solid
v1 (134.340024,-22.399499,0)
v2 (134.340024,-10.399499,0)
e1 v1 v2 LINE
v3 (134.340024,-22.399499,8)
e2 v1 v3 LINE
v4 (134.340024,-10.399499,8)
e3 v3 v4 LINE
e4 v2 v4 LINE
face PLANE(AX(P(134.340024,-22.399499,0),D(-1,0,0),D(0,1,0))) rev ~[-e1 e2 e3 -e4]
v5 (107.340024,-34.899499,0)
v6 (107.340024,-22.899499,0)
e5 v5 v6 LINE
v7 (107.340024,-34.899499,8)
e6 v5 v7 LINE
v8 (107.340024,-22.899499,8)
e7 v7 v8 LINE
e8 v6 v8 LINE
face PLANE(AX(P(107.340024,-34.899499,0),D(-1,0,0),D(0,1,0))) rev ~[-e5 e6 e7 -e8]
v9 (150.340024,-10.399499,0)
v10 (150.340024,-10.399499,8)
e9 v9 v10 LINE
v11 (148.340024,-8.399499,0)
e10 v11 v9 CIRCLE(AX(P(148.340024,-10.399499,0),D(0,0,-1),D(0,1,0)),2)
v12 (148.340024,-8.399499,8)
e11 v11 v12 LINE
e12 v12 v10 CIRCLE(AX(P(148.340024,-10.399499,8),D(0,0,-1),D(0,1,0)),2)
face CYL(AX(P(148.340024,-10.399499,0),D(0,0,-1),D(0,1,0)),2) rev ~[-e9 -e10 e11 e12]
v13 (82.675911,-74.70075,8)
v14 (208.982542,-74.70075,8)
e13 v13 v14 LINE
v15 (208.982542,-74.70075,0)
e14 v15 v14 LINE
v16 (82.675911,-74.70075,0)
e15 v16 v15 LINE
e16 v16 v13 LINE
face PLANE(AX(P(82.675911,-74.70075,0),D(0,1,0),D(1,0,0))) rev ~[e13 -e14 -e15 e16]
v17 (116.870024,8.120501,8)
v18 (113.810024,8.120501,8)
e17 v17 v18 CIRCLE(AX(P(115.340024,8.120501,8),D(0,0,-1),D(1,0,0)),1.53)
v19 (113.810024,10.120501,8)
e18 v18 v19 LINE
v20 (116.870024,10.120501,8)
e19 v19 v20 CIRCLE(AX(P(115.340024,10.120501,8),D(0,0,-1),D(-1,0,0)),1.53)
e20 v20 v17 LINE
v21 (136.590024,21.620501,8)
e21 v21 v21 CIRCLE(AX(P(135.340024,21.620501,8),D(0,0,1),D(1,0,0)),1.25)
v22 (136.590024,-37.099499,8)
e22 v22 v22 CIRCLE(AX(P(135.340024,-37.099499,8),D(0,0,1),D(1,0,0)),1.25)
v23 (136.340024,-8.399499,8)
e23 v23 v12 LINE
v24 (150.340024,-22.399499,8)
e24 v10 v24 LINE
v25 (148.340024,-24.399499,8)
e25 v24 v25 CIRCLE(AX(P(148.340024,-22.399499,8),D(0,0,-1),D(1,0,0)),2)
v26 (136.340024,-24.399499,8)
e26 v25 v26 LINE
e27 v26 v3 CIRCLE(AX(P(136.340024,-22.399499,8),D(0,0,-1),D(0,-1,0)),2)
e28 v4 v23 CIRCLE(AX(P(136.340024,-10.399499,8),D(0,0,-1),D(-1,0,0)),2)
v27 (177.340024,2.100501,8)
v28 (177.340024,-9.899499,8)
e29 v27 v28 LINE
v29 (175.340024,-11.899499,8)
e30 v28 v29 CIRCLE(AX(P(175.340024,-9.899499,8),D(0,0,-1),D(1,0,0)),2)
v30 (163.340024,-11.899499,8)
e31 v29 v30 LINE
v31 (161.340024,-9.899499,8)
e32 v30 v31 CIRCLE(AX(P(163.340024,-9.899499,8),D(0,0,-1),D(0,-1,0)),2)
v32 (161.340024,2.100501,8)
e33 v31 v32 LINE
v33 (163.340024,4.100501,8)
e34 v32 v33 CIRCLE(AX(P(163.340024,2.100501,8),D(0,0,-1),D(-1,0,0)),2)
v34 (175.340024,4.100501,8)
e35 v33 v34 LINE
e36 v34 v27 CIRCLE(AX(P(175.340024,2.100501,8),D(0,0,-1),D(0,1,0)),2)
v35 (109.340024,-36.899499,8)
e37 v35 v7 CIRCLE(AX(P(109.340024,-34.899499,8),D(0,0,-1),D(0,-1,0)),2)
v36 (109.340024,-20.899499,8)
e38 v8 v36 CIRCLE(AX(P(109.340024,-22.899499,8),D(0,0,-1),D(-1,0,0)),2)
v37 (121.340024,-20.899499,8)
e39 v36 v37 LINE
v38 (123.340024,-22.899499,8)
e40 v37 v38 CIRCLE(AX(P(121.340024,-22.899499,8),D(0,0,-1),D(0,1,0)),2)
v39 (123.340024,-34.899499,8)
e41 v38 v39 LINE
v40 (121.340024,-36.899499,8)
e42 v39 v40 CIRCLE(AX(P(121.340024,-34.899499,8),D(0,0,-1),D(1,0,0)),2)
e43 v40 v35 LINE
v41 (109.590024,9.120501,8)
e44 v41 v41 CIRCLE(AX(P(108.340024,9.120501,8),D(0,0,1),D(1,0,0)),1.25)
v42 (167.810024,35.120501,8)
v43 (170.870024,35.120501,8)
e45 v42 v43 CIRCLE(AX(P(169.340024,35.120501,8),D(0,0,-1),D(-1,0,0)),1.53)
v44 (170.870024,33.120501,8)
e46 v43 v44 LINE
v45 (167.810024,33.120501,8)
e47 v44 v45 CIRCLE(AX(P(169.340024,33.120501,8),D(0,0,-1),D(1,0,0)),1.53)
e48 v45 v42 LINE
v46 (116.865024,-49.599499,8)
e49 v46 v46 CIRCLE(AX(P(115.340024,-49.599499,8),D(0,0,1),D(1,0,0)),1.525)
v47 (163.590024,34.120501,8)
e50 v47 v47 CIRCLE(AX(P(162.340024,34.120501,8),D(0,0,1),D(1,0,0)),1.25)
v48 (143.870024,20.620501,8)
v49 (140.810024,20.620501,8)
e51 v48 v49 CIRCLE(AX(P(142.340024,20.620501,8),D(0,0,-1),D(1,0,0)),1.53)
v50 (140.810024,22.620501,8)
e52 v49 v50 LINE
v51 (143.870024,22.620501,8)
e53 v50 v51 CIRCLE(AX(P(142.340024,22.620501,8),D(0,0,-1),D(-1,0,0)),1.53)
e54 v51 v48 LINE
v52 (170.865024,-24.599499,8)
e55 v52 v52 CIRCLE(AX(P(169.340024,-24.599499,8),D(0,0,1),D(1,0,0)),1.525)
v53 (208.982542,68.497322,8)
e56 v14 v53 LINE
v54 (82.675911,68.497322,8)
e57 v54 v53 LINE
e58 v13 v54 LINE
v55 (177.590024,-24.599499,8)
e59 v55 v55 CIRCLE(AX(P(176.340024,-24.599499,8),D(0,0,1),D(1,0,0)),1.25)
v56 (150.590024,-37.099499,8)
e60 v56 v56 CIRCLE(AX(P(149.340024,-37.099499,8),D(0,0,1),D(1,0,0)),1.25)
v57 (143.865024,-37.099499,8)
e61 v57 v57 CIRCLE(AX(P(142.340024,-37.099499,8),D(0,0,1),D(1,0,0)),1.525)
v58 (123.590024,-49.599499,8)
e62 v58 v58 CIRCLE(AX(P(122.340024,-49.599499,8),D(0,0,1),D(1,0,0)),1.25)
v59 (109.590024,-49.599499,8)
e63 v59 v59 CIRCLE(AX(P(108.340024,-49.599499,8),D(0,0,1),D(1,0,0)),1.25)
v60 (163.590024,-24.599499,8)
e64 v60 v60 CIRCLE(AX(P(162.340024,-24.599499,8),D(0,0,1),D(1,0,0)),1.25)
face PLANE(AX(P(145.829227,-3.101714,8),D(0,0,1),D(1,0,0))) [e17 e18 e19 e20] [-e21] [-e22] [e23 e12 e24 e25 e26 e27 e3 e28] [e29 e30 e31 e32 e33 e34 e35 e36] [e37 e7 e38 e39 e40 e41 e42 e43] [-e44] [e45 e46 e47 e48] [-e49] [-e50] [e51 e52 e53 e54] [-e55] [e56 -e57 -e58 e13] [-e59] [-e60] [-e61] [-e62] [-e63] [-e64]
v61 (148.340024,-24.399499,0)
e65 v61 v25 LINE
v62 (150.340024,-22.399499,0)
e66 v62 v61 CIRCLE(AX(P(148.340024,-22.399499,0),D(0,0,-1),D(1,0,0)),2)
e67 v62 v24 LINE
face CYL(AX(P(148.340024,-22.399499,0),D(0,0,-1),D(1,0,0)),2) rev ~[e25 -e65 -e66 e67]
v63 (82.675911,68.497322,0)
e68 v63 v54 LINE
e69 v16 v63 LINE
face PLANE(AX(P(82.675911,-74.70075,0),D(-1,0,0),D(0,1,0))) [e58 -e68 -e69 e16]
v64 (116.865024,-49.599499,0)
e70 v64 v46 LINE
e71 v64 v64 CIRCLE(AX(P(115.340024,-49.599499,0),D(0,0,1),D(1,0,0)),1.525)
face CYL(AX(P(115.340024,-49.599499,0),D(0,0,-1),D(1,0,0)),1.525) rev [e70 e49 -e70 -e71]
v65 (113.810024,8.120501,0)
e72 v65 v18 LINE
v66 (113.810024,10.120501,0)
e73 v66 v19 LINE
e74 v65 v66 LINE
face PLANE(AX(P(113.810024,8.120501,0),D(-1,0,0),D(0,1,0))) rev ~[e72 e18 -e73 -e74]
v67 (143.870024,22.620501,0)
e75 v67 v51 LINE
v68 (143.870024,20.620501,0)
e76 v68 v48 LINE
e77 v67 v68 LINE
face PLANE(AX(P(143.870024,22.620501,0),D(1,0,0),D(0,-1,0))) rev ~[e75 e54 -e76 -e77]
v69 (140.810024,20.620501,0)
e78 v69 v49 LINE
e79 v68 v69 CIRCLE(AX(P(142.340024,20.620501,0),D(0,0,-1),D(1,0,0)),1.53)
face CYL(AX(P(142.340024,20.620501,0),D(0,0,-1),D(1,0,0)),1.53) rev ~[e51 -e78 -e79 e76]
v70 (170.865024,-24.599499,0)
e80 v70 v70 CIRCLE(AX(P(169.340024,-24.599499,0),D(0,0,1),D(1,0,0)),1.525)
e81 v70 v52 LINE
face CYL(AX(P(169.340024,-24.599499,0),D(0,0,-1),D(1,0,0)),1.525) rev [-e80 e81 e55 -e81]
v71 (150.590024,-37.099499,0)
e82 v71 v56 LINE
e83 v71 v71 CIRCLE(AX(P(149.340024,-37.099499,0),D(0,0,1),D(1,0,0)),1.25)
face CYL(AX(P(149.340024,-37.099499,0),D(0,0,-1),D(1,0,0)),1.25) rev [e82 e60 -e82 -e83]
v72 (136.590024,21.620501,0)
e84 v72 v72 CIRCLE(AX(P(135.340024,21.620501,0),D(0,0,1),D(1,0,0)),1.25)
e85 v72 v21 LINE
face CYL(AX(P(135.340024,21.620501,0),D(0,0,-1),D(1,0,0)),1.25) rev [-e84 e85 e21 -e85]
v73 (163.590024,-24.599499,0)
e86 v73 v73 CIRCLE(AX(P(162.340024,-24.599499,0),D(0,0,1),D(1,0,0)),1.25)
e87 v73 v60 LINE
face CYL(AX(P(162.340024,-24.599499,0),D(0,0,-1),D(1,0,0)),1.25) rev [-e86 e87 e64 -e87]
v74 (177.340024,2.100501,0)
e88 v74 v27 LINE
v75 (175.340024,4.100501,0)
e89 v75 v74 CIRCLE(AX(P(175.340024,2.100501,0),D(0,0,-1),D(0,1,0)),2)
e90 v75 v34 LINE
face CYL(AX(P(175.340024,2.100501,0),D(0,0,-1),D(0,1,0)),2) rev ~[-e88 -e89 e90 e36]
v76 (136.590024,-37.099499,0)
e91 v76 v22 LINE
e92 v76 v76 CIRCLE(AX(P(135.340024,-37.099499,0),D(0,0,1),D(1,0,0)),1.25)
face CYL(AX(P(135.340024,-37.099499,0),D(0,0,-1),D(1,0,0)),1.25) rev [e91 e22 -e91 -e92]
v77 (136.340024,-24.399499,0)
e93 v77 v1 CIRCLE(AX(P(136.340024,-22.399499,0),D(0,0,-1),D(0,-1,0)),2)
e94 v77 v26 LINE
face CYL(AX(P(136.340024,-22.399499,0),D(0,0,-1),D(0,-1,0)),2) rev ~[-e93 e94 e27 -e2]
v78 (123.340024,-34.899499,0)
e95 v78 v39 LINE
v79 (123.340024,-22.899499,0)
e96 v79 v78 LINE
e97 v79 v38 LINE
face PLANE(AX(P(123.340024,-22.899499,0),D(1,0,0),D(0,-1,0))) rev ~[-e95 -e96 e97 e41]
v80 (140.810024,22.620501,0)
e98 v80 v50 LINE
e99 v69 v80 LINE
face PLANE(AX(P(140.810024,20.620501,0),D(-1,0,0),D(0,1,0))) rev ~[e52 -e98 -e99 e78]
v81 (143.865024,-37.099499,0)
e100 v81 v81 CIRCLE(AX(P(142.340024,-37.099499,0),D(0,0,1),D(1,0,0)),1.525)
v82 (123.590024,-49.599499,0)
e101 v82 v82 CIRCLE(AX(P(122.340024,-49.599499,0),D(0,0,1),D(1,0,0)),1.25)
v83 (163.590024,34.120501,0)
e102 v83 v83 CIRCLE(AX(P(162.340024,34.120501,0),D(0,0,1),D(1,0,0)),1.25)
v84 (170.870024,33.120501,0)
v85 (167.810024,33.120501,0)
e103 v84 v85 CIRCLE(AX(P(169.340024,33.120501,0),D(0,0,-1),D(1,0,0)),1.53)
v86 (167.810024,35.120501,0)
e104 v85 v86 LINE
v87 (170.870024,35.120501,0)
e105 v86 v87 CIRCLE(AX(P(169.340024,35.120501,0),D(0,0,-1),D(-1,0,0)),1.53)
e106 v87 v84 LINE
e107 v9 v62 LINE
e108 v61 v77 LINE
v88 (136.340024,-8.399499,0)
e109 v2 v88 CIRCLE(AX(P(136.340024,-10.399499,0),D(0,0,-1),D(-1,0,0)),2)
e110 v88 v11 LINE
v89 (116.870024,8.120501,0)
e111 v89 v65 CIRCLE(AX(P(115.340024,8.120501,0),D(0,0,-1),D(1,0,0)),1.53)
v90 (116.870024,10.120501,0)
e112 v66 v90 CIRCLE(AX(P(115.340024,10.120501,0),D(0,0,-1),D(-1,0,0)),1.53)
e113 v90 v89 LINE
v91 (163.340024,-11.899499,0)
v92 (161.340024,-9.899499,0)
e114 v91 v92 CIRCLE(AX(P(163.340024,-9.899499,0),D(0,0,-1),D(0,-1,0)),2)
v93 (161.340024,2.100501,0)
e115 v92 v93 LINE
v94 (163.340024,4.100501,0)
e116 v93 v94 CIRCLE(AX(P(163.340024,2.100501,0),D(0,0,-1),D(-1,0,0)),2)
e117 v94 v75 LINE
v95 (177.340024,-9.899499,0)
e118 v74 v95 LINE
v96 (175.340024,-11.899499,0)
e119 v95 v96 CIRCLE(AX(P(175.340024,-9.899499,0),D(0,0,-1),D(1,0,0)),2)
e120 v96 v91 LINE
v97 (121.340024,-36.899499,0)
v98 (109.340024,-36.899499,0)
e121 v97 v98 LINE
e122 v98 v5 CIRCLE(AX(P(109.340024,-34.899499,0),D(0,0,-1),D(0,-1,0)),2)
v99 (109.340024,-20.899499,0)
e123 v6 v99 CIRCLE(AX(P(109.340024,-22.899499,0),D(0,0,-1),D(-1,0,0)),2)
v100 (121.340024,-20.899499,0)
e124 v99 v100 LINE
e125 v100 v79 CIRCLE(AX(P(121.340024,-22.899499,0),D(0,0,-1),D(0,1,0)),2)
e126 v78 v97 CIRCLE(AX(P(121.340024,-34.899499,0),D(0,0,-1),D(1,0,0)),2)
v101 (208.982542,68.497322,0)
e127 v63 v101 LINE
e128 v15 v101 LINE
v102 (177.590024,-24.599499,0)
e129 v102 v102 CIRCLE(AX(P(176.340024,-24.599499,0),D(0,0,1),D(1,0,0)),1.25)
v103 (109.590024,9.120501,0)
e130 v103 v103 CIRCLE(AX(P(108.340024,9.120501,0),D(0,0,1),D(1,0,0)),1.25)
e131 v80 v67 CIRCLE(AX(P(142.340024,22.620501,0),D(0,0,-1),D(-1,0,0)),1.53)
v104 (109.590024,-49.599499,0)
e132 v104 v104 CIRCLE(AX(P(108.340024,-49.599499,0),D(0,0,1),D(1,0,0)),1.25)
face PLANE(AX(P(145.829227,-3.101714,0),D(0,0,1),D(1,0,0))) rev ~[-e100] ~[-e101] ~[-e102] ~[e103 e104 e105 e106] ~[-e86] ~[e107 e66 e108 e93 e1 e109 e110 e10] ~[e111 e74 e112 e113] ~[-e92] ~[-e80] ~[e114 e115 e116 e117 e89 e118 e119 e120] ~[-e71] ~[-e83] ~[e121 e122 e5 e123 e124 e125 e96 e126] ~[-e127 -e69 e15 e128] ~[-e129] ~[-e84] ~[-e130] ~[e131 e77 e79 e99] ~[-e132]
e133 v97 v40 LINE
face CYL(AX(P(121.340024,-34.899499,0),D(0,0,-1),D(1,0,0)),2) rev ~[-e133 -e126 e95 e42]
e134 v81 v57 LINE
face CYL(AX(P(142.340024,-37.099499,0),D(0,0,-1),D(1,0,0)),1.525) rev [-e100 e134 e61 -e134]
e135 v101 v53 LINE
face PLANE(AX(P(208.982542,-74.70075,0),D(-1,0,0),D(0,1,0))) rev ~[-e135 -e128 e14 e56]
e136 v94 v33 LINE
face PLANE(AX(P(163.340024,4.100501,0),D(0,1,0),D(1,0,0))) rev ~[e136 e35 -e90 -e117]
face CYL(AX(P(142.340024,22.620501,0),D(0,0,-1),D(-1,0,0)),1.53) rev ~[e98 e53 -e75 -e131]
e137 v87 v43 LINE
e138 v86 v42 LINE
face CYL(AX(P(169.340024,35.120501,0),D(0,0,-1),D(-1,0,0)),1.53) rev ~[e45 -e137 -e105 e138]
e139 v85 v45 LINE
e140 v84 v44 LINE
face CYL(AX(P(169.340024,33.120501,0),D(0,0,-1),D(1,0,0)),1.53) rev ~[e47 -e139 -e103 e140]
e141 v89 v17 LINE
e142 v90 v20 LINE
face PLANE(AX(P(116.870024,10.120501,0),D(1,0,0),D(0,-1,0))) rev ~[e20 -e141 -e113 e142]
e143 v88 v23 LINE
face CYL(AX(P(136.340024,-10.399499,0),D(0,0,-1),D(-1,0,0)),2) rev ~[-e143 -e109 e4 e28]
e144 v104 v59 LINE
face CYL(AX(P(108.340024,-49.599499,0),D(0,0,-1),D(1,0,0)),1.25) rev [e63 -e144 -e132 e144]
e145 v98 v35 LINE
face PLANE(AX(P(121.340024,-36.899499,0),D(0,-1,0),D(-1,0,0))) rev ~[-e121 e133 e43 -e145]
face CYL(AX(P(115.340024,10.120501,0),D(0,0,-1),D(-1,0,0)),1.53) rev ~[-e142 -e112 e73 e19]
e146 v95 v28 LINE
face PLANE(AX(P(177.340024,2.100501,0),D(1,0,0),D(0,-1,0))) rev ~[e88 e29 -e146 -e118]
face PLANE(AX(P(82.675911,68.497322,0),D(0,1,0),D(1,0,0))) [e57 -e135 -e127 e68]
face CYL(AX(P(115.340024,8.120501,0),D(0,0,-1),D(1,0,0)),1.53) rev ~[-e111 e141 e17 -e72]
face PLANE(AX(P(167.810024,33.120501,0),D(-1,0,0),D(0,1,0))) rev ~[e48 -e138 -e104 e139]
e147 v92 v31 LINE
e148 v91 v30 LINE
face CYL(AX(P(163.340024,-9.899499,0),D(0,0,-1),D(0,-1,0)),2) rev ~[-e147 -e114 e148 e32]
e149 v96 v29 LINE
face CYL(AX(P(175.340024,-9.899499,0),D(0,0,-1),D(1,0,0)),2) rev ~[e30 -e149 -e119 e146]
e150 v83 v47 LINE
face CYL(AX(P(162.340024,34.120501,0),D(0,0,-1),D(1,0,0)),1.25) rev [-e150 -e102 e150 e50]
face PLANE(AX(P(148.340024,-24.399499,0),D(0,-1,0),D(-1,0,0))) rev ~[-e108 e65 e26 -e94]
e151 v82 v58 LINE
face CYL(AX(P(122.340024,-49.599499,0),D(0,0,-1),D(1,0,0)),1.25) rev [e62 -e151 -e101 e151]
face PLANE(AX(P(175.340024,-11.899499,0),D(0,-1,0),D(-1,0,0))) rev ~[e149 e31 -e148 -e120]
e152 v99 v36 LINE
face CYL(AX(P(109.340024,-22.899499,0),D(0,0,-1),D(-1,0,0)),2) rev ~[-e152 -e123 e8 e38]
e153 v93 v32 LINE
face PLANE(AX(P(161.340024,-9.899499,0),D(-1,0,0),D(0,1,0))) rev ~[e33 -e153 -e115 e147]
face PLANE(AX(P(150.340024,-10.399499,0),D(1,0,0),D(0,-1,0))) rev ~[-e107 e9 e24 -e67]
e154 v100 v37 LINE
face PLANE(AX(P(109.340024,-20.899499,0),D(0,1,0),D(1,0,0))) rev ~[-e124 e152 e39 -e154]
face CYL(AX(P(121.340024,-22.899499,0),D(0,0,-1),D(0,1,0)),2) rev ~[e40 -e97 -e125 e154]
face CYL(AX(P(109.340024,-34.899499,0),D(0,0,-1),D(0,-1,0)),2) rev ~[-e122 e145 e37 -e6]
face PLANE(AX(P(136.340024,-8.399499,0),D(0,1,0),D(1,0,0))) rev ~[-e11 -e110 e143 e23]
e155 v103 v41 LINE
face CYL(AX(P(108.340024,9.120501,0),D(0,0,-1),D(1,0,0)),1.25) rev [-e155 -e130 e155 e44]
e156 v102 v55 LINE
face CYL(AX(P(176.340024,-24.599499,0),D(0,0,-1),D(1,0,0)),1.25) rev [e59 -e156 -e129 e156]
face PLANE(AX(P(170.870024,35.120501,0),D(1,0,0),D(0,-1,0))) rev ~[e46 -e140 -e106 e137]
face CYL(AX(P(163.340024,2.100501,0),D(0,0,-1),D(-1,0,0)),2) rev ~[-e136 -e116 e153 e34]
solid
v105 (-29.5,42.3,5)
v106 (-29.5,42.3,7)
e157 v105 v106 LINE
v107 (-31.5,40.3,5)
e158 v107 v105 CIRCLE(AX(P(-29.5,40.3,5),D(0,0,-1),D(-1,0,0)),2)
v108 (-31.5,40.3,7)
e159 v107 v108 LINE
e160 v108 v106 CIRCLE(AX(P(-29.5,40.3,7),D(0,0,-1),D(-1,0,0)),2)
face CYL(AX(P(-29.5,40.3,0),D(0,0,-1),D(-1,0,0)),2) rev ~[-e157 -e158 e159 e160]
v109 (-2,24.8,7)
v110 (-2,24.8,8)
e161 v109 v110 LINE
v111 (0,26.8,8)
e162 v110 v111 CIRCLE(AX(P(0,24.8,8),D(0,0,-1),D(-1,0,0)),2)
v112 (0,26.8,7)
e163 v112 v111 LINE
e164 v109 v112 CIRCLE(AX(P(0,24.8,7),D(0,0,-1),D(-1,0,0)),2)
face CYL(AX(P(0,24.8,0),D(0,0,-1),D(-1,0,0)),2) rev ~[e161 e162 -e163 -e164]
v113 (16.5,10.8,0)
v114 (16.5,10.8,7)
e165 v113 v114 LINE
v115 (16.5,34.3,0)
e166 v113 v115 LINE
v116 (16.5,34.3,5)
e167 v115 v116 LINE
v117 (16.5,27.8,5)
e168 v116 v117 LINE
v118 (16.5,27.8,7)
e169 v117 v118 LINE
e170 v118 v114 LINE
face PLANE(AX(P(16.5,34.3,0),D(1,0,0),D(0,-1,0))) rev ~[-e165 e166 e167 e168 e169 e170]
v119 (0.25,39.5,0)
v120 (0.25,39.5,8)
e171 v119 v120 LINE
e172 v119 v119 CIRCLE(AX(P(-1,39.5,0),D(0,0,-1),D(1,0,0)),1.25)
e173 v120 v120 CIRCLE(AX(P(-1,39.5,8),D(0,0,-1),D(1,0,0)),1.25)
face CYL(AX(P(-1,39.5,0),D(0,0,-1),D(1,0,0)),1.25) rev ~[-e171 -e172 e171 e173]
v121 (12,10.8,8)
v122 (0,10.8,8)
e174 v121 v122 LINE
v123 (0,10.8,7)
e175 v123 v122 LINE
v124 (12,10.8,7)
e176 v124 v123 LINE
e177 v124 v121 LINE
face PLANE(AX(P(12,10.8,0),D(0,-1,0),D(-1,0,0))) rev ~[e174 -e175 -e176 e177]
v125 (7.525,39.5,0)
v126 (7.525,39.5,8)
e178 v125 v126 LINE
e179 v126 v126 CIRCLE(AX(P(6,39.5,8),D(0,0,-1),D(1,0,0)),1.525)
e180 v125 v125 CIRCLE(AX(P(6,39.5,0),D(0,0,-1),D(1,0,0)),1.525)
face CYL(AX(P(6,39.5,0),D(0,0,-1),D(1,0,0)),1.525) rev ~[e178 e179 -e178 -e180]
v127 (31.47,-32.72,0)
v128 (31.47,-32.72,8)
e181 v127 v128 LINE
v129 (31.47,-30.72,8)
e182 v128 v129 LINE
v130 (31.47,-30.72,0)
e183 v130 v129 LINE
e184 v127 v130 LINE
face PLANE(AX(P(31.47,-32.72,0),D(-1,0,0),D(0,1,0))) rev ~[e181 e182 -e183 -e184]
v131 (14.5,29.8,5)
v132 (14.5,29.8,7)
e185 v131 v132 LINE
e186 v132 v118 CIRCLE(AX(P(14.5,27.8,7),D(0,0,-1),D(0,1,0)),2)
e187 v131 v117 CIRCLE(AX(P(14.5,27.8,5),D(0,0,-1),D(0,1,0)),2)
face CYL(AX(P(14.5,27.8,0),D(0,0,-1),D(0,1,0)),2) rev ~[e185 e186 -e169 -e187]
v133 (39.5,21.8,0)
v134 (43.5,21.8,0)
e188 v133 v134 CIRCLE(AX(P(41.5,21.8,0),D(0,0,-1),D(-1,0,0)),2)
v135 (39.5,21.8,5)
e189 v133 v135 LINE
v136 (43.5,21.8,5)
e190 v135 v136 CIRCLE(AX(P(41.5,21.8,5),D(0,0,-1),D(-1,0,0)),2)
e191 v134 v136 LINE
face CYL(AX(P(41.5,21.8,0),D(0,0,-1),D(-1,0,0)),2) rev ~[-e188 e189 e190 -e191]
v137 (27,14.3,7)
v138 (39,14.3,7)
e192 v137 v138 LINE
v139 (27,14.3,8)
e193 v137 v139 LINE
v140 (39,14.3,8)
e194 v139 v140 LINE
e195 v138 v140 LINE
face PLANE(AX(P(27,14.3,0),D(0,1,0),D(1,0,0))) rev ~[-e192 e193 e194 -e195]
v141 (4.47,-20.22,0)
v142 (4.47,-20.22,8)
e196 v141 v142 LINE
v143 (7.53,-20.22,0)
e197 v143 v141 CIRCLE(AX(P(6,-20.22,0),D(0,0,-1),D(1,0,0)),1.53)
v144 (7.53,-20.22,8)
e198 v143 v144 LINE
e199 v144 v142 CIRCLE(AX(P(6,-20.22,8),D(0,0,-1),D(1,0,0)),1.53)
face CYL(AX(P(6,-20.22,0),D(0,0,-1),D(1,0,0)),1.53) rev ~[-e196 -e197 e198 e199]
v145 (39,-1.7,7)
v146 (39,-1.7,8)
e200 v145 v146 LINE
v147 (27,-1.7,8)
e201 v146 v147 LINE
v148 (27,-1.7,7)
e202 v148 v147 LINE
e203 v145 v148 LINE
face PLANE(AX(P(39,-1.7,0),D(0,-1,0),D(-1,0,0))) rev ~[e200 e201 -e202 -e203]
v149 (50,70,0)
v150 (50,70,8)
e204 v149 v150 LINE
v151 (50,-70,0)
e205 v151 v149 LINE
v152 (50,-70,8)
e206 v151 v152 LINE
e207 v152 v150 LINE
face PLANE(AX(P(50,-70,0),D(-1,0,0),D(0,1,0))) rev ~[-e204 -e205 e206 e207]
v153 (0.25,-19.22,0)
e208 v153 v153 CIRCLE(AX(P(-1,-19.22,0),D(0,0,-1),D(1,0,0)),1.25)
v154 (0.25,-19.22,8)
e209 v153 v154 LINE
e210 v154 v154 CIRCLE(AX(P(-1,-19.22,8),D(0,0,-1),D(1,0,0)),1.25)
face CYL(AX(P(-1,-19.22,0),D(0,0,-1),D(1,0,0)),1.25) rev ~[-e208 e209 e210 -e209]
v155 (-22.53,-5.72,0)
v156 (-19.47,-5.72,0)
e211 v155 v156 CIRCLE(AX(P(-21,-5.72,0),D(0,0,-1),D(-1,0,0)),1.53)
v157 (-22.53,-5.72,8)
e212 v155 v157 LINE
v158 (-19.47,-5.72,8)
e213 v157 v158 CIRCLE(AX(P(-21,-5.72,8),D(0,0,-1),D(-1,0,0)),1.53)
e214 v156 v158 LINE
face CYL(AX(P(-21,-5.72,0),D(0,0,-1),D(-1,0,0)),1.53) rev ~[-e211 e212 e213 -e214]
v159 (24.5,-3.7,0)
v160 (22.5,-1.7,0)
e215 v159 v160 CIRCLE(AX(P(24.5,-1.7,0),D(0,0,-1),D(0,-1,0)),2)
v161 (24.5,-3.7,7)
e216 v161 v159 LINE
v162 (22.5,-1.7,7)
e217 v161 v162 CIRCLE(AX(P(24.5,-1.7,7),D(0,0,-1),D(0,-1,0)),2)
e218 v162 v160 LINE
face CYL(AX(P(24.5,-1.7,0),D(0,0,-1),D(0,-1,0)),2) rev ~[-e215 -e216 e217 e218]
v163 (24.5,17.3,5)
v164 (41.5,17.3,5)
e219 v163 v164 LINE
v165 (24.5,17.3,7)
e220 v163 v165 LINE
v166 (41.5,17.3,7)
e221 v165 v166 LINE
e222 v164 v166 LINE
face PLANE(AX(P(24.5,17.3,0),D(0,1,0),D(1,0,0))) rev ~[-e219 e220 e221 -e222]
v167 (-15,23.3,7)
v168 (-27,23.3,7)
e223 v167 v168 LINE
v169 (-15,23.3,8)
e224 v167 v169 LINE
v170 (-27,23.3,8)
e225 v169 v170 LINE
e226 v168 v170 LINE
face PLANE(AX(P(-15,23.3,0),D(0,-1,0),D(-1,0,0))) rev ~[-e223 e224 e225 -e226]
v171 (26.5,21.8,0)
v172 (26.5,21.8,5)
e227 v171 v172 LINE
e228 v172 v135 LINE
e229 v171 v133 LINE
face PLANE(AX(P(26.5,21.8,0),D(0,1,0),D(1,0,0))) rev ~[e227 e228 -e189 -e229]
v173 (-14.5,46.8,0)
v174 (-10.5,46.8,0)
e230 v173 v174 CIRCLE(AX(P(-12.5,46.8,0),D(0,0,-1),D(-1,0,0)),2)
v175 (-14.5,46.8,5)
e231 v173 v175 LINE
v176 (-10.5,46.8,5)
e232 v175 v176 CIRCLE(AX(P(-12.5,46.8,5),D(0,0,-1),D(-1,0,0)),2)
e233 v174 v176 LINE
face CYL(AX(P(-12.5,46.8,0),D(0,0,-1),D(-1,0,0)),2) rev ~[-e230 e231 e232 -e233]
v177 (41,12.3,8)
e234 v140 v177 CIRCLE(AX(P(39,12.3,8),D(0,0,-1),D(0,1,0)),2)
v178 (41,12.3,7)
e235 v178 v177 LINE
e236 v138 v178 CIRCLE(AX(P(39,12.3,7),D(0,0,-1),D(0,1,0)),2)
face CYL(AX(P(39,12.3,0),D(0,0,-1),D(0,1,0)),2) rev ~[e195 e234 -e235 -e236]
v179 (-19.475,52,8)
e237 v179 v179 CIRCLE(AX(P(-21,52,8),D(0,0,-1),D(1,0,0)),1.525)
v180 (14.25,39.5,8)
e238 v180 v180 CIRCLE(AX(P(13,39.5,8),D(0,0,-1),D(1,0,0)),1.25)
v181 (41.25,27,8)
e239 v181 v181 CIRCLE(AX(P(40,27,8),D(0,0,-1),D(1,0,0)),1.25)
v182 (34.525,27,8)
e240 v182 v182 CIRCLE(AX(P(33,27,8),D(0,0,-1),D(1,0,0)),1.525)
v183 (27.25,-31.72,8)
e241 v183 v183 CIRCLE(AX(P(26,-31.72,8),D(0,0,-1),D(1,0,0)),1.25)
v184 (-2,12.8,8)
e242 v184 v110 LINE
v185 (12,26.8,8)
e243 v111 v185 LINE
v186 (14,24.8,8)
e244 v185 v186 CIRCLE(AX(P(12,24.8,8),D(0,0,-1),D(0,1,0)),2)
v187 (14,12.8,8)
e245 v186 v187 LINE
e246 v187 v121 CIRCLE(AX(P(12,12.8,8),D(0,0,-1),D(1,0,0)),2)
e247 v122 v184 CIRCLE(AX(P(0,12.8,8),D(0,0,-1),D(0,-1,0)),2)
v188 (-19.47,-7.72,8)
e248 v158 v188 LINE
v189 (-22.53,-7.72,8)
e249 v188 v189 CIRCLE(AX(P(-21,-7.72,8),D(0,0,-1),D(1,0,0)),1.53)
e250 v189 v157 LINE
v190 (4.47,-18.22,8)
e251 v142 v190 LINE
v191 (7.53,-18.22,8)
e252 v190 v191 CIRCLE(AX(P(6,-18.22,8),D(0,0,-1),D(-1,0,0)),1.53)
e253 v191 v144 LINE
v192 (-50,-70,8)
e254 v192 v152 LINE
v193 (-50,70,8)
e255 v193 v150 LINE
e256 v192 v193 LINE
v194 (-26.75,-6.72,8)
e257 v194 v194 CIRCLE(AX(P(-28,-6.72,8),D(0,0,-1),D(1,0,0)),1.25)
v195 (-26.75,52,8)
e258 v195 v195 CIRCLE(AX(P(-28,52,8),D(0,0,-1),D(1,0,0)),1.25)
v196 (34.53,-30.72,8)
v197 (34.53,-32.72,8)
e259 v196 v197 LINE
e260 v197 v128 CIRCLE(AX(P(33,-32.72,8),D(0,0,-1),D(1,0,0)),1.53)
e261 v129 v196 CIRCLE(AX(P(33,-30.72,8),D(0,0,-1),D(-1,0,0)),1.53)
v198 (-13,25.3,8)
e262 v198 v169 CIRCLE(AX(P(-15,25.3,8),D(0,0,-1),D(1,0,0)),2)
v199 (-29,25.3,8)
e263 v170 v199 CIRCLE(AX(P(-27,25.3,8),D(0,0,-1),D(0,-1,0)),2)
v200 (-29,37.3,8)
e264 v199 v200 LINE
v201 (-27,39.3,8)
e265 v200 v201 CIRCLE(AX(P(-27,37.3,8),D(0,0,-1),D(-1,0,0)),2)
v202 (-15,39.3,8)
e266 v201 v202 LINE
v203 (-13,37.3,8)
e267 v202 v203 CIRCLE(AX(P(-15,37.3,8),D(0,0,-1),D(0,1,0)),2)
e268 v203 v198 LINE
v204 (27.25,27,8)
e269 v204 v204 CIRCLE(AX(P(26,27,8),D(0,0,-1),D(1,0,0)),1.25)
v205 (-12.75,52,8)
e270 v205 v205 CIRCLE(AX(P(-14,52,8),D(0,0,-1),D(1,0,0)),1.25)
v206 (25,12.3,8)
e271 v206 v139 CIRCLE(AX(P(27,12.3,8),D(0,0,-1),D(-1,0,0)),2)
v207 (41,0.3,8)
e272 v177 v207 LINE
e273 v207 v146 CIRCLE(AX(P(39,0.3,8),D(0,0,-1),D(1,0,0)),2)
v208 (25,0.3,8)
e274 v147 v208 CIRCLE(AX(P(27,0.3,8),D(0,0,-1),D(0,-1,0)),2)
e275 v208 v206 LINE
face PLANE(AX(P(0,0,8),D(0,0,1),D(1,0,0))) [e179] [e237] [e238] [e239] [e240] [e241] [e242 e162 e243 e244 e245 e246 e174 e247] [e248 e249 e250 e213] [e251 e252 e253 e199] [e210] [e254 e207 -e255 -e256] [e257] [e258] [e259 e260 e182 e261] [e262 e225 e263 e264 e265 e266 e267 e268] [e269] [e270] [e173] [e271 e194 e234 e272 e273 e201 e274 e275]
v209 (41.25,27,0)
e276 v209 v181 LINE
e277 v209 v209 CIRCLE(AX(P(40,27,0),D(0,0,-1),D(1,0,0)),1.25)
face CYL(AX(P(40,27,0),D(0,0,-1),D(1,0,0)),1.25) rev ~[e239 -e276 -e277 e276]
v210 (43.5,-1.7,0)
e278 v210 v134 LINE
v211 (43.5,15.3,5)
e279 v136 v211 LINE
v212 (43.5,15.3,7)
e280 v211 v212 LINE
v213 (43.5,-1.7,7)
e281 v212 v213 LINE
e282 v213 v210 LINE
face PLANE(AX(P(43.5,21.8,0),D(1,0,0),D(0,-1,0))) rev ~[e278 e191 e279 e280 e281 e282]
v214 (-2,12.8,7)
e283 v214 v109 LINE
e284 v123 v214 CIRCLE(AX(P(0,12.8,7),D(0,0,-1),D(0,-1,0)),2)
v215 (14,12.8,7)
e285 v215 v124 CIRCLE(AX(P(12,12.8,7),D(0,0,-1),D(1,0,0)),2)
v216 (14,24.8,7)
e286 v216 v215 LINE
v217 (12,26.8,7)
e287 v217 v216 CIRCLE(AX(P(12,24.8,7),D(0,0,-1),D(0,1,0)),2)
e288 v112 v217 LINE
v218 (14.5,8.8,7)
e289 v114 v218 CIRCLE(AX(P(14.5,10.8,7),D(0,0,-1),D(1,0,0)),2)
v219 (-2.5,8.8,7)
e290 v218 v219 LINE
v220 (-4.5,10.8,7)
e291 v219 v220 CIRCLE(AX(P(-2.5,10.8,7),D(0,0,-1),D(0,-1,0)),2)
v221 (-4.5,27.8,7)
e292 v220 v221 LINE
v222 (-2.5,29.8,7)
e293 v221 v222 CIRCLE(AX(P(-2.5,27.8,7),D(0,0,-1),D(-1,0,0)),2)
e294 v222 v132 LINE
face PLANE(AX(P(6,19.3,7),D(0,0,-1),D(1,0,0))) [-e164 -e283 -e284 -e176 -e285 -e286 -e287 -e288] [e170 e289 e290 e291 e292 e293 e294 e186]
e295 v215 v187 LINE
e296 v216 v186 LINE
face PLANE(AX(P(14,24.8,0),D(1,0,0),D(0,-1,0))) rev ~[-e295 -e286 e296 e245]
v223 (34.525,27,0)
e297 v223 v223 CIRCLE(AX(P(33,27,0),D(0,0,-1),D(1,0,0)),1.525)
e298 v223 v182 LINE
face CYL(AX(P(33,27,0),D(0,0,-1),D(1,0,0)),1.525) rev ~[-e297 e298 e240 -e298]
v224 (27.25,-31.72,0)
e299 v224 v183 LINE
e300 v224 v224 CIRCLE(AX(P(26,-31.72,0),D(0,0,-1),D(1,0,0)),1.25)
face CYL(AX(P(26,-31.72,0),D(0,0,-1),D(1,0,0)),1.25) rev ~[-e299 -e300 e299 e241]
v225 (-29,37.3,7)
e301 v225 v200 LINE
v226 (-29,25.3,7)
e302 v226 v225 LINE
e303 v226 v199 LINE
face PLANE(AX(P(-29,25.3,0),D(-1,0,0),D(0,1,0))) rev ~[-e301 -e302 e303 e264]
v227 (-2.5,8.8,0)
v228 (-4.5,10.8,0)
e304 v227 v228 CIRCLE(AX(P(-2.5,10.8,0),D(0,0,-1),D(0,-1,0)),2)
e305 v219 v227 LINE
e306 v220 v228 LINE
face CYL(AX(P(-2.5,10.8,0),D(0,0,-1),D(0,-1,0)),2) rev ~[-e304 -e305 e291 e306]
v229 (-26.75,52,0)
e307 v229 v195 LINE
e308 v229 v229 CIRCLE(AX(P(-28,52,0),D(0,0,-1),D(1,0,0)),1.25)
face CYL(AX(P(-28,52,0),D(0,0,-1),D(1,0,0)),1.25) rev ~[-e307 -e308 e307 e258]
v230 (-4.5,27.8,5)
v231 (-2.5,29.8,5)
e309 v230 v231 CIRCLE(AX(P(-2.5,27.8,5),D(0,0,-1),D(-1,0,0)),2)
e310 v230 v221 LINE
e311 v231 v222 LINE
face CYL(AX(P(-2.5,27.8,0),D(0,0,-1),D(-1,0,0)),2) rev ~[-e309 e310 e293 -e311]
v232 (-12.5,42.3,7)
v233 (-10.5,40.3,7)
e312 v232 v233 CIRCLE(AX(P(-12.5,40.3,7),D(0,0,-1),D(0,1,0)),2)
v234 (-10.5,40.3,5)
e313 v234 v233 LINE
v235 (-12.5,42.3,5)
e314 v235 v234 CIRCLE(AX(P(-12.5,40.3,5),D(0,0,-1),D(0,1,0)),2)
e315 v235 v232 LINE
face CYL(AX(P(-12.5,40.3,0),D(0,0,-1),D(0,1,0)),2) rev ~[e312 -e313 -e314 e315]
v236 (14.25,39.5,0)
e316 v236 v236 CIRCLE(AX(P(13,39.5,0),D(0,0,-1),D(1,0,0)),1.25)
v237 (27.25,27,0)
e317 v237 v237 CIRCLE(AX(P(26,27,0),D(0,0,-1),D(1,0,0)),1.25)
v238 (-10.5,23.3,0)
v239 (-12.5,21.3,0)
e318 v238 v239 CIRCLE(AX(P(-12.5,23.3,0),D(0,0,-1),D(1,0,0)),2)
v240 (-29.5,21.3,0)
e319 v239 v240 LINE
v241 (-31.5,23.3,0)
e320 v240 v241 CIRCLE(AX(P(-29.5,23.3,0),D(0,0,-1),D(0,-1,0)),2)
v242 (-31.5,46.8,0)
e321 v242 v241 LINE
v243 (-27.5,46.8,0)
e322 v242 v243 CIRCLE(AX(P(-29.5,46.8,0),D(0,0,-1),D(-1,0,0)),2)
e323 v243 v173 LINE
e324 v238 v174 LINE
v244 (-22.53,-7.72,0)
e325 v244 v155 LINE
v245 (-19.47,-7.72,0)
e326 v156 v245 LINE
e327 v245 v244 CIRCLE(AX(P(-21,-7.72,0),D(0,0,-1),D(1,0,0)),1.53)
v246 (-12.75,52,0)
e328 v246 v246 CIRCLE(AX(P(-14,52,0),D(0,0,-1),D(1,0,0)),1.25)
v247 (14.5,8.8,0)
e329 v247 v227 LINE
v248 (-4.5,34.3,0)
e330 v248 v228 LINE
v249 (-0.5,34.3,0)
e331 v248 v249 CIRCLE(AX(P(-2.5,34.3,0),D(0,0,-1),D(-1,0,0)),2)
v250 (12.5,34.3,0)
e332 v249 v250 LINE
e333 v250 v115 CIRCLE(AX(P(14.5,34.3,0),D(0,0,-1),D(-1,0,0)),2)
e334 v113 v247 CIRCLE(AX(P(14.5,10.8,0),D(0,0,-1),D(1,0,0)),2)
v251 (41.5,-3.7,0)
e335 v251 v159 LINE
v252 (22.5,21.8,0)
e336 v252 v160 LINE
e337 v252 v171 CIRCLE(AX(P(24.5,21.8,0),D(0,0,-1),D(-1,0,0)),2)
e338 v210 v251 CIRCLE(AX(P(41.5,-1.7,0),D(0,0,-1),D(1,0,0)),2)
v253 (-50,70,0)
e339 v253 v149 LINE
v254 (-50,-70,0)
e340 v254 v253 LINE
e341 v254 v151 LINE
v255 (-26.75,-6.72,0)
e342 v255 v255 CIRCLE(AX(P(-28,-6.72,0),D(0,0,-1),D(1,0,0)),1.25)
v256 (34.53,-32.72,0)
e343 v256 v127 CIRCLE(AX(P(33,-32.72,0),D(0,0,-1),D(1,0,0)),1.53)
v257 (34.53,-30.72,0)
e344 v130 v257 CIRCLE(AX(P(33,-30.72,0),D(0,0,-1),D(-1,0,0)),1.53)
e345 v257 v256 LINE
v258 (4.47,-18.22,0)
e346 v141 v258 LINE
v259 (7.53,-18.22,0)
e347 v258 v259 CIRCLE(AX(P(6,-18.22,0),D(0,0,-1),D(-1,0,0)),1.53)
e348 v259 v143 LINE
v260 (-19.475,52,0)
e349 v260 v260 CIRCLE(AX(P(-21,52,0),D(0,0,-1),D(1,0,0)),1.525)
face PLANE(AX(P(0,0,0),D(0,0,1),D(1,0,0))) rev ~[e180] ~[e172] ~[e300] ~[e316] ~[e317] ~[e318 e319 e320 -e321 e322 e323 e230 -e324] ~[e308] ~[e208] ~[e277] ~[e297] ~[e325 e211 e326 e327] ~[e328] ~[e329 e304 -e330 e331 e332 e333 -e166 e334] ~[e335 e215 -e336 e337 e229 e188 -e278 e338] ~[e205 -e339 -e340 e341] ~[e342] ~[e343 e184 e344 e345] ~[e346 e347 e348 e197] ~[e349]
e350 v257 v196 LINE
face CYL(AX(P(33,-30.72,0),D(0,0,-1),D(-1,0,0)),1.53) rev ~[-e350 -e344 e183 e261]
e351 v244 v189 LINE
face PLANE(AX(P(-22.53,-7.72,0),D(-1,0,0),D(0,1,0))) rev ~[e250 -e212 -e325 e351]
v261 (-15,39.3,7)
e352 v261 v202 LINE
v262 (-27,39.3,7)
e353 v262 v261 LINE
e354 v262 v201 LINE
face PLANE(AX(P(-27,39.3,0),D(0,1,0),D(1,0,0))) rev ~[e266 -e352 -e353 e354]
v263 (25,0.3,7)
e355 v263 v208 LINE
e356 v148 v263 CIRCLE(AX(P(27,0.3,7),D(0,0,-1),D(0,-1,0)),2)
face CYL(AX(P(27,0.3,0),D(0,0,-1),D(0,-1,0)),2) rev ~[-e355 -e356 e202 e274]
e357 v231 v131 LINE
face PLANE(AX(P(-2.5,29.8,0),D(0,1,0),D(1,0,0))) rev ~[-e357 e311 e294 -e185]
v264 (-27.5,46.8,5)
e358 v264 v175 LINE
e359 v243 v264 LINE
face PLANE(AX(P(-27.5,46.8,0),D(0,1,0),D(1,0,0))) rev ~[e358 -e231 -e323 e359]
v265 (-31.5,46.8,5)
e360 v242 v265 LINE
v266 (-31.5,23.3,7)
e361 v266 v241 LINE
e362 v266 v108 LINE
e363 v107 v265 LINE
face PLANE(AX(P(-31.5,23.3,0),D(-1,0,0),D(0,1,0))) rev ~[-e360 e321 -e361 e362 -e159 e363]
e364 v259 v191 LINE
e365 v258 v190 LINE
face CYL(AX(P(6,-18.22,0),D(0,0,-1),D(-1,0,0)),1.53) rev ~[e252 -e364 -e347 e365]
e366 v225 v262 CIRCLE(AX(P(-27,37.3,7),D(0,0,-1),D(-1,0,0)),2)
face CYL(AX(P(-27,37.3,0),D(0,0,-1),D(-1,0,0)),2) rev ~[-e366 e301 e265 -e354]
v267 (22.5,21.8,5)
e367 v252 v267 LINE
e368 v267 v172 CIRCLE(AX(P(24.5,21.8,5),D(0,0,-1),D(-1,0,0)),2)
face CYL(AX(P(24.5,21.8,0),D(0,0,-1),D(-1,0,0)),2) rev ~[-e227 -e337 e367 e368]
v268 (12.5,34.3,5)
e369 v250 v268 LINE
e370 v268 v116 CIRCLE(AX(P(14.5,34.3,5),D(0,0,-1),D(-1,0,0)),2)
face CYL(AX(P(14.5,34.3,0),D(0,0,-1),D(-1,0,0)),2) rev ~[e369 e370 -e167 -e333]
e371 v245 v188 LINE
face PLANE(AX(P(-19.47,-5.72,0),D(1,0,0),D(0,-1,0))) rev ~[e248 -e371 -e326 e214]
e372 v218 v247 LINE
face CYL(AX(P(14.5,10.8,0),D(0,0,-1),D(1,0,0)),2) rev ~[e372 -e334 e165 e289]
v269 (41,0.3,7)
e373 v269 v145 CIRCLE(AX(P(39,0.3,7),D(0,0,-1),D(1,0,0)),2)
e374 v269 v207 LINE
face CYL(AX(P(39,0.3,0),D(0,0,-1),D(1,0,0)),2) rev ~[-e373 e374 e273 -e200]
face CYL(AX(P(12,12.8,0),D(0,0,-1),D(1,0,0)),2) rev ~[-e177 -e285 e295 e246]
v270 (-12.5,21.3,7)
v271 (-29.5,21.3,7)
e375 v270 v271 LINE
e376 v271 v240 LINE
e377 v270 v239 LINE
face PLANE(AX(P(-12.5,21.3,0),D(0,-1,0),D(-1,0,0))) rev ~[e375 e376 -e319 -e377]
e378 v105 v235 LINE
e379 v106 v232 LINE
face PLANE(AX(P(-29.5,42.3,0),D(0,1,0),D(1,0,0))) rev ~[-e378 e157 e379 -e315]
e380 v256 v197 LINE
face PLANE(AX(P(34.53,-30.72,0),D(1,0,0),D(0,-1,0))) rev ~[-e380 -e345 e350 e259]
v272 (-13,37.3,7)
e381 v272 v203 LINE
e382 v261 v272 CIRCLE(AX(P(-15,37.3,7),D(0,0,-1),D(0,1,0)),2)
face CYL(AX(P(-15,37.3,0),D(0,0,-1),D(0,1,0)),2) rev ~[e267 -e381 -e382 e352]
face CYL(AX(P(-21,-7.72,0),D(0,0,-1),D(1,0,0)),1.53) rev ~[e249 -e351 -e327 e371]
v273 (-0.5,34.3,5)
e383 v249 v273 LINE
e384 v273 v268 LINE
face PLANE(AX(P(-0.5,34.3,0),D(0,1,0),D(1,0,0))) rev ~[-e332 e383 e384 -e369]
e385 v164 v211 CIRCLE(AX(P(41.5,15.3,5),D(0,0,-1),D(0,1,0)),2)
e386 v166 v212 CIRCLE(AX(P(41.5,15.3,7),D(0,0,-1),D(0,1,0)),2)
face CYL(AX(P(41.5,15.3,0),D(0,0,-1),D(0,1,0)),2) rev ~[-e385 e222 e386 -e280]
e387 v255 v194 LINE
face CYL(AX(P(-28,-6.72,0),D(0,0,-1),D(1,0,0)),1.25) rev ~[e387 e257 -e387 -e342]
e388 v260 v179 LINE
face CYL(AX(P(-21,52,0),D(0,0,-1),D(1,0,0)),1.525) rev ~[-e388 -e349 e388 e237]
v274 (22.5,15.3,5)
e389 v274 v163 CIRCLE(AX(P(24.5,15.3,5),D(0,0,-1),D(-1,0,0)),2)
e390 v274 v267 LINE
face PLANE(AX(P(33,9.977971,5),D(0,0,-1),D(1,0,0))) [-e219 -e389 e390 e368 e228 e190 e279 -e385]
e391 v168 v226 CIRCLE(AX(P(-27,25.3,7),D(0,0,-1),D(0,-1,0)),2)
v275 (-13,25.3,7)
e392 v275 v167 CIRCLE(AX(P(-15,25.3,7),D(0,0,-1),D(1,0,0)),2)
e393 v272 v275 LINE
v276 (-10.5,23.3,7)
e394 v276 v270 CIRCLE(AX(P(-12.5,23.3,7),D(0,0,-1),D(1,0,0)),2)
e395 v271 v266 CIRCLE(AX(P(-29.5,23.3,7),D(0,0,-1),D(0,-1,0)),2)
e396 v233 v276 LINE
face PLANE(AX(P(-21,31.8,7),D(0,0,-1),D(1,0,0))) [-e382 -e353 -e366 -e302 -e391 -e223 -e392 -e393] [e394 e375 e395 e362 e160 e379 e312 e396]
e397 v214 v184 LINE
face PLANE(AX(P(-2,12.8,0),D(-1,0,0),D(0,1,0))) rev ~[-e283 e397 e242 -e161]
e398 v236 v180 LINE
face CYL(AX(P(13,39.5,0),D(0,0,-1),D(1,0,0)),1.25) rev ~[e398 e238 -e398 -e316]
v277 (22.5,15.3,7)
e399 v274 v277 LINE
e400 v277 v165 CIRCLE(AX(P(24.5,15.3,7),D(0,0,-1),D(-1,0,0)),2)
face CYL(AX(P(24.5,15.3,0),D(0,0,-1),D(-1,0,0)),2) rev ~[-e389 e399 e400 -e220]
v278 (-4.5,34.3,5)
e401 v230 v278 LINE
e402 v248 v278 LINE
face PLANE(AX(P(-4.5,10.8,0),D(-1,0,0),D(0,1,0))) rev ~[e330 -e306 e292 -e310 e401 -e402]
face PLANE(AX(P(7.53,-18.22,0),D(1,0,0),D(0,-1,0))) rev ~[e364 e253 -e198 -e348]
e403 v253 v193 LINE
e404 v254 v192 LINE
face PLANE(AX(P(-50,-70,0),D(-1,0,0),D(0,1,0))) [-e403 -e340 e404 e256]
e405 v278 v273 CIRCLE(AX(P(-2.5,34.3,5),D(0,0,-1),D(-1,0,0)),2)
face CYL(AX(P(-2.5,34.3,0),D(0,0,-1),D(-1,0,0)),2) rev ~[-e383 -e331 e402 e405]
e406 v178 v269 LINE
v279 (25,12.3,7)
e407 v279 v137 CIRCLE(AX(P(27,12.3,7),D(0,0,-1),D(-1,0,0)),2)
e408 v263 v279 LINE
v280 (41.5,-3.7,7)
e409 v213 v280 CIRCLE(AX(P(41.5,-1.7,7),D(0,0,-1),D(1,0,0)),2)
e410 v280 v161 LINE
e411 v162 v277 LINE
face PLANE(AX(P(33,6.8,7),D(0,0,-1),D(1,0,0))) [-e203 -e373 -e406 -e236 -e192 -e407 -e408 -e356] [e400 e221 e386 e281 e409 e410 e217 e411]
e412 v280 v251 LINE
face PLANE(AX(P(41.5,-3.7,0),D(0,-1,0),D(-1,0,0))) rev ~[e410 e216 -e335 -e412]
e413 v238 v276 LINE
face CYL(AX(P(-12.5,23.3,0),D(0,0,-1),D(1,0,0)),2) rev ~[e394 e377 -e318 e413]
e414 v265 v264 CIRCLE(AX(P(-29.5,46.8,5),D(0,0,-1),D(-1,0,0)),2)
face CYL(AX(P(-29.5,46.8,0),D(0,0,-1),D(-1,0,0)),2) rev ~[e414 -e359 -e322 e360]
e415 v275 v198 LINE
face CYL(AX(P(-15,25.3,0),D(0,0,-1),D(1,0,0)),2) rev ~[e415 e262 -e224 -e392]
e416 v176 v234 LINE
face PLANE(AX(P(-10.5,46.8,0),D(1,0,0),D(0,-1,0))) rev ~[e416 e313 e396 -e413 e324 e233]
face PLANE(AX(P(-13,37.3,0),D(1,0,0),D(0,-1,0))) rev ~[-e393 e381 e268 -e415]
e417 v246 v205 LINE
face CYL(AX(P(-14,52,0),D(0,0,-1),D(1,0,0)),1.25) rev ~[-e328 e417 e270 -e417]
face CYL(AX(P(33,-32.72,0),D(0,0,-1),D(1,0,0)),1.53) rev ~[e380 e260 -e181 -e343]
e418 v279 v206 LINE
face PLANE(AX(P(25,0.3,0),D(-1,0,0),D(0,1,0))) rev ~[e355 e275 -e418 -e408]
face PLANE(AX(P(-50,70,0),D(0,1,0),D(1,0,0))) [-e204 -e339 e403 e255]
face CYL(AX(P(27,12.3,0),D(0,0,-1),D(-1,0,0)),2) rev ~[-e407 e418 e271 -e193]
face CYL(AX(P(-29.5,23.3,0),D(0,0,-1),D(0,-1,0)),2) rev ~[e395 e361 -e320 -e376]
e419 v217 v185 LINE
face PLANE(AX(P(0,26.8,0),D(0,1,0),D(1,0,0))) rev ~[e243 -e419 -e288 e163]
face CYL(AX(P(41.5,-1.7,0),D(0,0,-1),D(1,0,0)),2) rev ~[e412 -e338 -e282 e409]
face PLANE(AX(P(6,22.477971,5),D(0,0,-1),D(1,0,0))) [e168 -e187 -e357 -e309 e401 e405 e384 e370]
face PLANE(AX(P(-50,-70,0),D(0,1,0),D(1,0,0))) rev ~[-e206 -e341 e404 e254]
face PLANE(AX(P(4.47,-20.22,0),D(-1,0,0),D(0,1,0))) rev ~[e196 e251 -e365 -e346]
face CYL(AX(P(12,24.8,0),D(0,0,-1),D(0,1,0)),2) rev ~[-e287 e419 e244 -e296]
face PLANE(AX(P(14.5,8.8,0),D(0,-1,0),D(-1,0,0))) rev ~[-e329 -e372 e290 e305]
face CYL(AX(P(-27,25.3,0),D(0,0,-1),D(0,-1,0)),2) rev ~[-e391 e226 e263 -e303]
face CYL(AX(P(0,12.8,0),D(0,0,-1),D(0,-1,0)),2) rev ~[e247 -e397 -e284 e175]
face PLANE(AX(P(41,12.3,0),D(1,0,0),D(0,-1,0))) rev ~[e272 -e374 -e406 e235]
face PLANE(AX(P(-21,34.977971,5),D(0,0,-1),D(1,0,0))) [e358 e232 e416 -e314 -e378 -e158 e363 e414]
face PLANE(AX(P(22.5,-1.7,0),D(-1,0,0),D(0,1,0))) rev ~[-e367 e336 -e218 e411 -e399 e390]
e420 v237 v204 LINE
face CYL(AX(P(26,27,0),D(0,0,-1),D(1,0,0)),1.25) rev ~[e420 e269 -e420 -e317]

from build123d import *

# Parameters (mm, degrees)
F0_W      = 100
F0_H      = 140
F1_DEPTH  = 8
F2_R      = 1.25
F2_R_2    = 1.525
F3_DEPTH  = 8
F6_DEPTH  = 5
F8_DEPTH  = 7
F10_DEPTH = 8
F11_W     = 126.306630671
F11_H     = 143.1980729103
F11_R     = 1.25
F11_R_2   = 1.525
F12_DEPTH = 8


with BuildPart() as f1:
    # F0 (on Top) → F1 (new body)
    with BuildSketch(Plane.XY):
        Rectangle(F0_W, F0_H)
    extrude(amount=F1_DEPTH)

    # F2 (on face) → F3 (cut, through all)
    with BuildSketch(Plane(origin=(0, 0, 0), x_dir=(1, 0, 0), z_dir=(0, 0, -1))):
        with Locations((-28, -52)):
            Circle(F2_R)
        with Locations((-14, -52)):
            Circle(F2_R)
        with Locations((-28, 6.72)):
            Circle(F2_R)
        with Locations((-1, -39.5)):
            Circle(F2_R)
        with Locations((13, -39.5)):
            Circle(F2_R)
        with Locations((-1, 19.22)):
            Circle(F2_R)
        with Locations((26, 31.72)):
            Circle(F2_R)
        with Locations((26, -27)):
            Circle(F2_R)
        with Locations((40, -27)):
            Circle(F2_R)
        with BuildLine():
            ThreePointArc((-22.53, 5.72), (-21, 4.19), (-19.47, 5.72))
            Line((-19.47, 5.72), (-19.47, 7.72))
            ThreePointArc((-19.47, 7.72), (-21, 9.25), (-22.53, 7.72))
            Line((-22.53, 7.72), (-22.53, 5.72))
        make_face()
        with BuildLine():
            ThreePointArc((4.47, 18.22), (6, 16.69), (7.53, 18.22))
            Line((7.53, 18.22), (7.53, 20.22))
            ThreePointArc((7.53, 20.22), (6, 21.75), (4.47, 20.22))
            Line((4.47, 20.22), (4.47, 18.22))
        make_face()
        with BuildLine():
            ThreePointArc((31.47, 30.72), (33, 29.19), (34.53, 30.72))
            Line((34.53, 30.72), (34.53, 32.72))
            ThreePointArc((34.53, 32.72), (33, 34.25), (31.47, 32.72))
            Line((31.47, 32.72), (31.47, 30.72))
        make_face()
        with Locations((33, -27)):
            Circle(F2_R_2)
        with Locations((6, -39.5)):
            Circle(F2_R_2)
        with Locations((-21, -52)):
            Circle(F2_R_2)
    extrude(amount=-F3_DEPTH, mode=Mode.SUBTRACT)

    # F5 (on face) → F6 (cut)
    with BuildSketch(Plane(origin=(0, 0, 0), x_dir=(1, 0, 0), z_dir=(0, 0, -1))):
        with BuildLine():
            Line((26.5, -21.8), (39.5, -21.8))
            ThreePointArc((39.5, -21.8), (41.5, -23.8), (43.5, -21.8))
            Line((43.5, -21.8), (43.5, 1.7))
            ThreePointArc((43.5, 1.7), (42.9142135624, 3.1142135624), (41.5, 3.7))
            Line((41.5, 3.7), (24.5, 3.7))
            ThreePointArc((24.5, 3.7), (23.0857864376, 3.1142135624), (22.5, 1.7))
            Line((22.5, 1.7), (22.5, -21.8))
            ThreePointArc((22.5, -21.8), (24.5, -23.8), (26.5, -21.8))
        make_face()
        with BuildLine():
            ThreePointArc((16.5, -10.8), (15.9142135624, -9.3857864376), (14.5, -8.8))
            Line((14.5, -8.8), (-2.5, -8.8))
            ThreePointArc((-2.5, -8.8), (-3.9142135624, -9.3857864376), (-4.5, -10.8))
            Line((-4.5, -10.8), (-4.5, -34.3))
            ThreePointArc((-4.5, -34.3), (-2.5, -36.3), (-0.5, -34.3))
            Line((-0.5, -34.3), (12.5, -34.3))
            ThreePointArc((12.5, -34.3), (14.5, -36.3), (16.5, -34.3))
            Line((16.5, -34.3), (16.5, -10.8))
        make_face()
        with BuildLine():
            ThreePointArc((-10.5, -23.3), (-11.0857864376, -21.8857864376), (-12.5, -21.3))
            Line((-12.5, -21.3), (-29.5, -21.3))
            ThreePointArc((-29.5, -21.3), (-30.9142135624, -21.8857864376), (-31.5, -23.3))
            Line((-31.5, -23.3), (-31.5, -46.8))
            ThreePointArc((-31.5, -46.8), (-29.5, -48.8), (-27.5, -46.8))
            Line((-27.5, -46.8), (-14.5, -46.8))
            ThreePointArc((-14.5, -46.8), (-12.5, -48.8), (-10.5, -46.8))
            Line((-10.5, -46.8), (-10.5, -23.3))
        make_face()
    extrude(amount=-F6_DEPTH, mode=Mode.SUBTRACT)

    # F7 (on face) → F8 (cut)
    with BuildSketch(Plane(origin=(0, 0, 0), x_dir=(1, 0, 0), z_dir=(0, 0, -1))):
        with BuildLine():
            Line((24.5, -17.3), (41.5, -17.3))
            ThreePointArc((41.5, -17.3), (42.9142135624, -16.7142135624), (43.5, -15.3))
            Line((43.5, -15.3), (43.5, 1.7))
            ThreePointArc((43.5, 1.7), (42.9142135624, 3.1142135624), (41.5, 3.7))
            Line((41.5, 3.7), (24.5, 3.7))
            ThreePointArc((24.5, 3.7), (23.0857864376, 3.1142135624), (22.5, 1.7))
            Line((22.5, 1.7), (22.5, -15.3))
            ThreePointArc((22.5, -15.3), (23.0857864376, -16.7142135624), (24.5, -17.3))
        make_face()
        with BuildLine():
            ThreePointArc((14.5, -29.8), (15.9142135624, -29.2142135624), (16.5, -27.8))
            Line((16.5, -27.8), (16.5, -10.8))
            ThreePointArc((16.5, -10.8), (15.9142135624, -9.3857864376), (14.5, -8.8))
            Line((14.5, -8.8), (-2.5, -8.8))
            ThreePointArc((-2.5, -8.8), (-3.9142135624, -9.3857864376), (-4.5, -10.8))
            Line((-4.5, -10.8), (-4.5, -27.8))
            ThreePointArc((-4.5, -27.8), (-3.9142135624, -29.2142135624), (-2.5, -29.8))
            Line((-2.5, -29.8), (14.5, -29.8))
        make_face()
        with BuildLine():
            ThreePointArc((-12.5, -42.3), (-11.0857864376, -41.7142135624), (-10.5, -40.3))
            Line((-10.5, -40.3), (-10.5, -23.3))
            ThreePointArc((-10.5, -23.3), (-11.0857864376, -21.8857864376), (-12.5, -21.3))
            Line((-12.5, -21.3), (-29.5, -21.3))
            ThreePointArc((-29.5, -21.3), (-30.9142135624, -21.8857864376), (-31.5, -23.3))
            Line((-31.5, -23.3), (-31.5, -40.3))
            ThreePointArc((-31.5, -40.3), (-30.9142135624, -41.7142135624), (-29.5, -42.3))
            Line((-29.5, -42.3), (-12.5, -42.3))
        make_face()
    extrude(amount=-F8_DEPTH, mode=Mode.SUBTRACT)

    # F9 (on face) → F10 (cut, through all)
    with BuildSketch(Plane(origin=(0, 0, 0), x_dir=(1, 0, 0), z_dir=(0, 0, -1))):
        with BuildLine():
            Line((27, -14.3), (39, -14.3))
            ThreePointArc((39, -14.3), (40.4142135624, -13.7142135624), (41, -12.3))
            Line((41, -12.3), (41, -0.3))
            ThreePointArc((41, -0.3), (40.4142135624, 1.1142135624), (39, 1.7))
            Line((39, 1.7), (27, 1.7))
            ThreePointArc((27, 1.7), (25.5857864376, 1.1142135624), (25, -0.3))
            Line((25, -0.3), (25, -12.3))
            ThreePointArc((25, -12.3), (25.5857864376, -13.7142135624), (27, -14.3))
        make_face()
        with BuildLine():
            Line((-2, -12.8), (-2, -24.8))
            ThreePointArc((-2, -24.8), (-1.4142135624, -26.2142135624), (0, -26.8))
            Line((0, -26.8), (12, -26.8))
            ThreePointArc((12, -26.8), (13.4142135624, -26.2142135624), (14, -24.8))
            Line((14, -24.8), (14, -12.8))
            ThreePointArc((14, -12.8), (13.4142135624, -11.3857864376), (12, -10.8))
            Line((12, -10.8), (0, -10.8))
            ThreePointArc((0, -10.8), (-1.4142135624, -11.3857864376), (-2, -12.8))
        make_face()
        with BuildLine():
            Line((-29, -25.3), (-29, -37.3))
            ThreePointArc((-29, -37.3), (-28.4142135624, -38.7142135624), (-27, -39.3))
            Line((-27, -39.3), (-15, -39.3))
            ThreePointArc((-15, -39.3), (-13.5857864376, -38.7142135624), (-13, -37.3))
            Line((-13, -37.3), (-13, -25.3))
            ThreePointArc((-13, -25.3), (-13.5857864376, -23.8857864376), (-15, -23.3))
            Line((-15, -23.3), (-27, -23.3))
            ThreePointArc((-27, -23.3), (-28.4142135624, -23.8857864376), (-29, -25.3))
        make_face()
    extrude(amount=-F10_DEPTH, mode=Mode.SUBTRACT)


with BuildPart() as f12:
    # F11 (on Top) → F12 (new body)
    with BuildSketch(Plane.XY):
        with Locations((145.8292268217, -3.1017139554)):
            Rectangle(F11_W, F11_H)
        with Locations((108.3400235176, -49.5994985104)):
            Circle(F11_R, mode=Mode.SUBTRACT)
        with Locations((115.3400235176, -49.5994985104)):
            Circle(F11_R_2, mode=Mode.SUBTRACT)
        with Locations((122.3400235176, -49.5994985104)):
            Circle(F11_R, mode=Mode.SUBTRACT)
        with BuildLine():
            ThreePointArc((123.3400235176, -34.8994985104), (122.75423708, -36.3137120727), (121.3400235176, -36.8994985104))
            Line((121.3400235176, -36.8994985104), (109.3400235176, -36.8994985104))
            ThreePointArc((109.3400235176, -36.8994985104), (107.9258099552, -36.3137120727), (107.3400235176, -34.8994985104))
            Line((107.3400235176, -34.8994985104), (107.3400235176, -22.8994985104))
            ThreePointArc((107.3400235176, -22.8994985104), (107.9258099552, -21.485284948), (109.3400235176, -20.8994985104))
            Line((109.3400235176, -20.8994985104), (121.3400235176, -20.8994985104))
            ThreePointArc((121.3400235176, -20.8994985104), (122.75423708, -21.485284948), (123.3400235176, -22.8994985104))
            Line((123.3400235176, -22.8994985104), (123.3400235176, -34.8994985104))
        make_face(mode=Mode.SUBTRACT)
        with Locations((135.3400235176, -37.0994985104)):
            Circle(F11_R, mode=Mode.SUBTRACT)
        with Locations((142.3400235176, -37.0994985104)):
            Circle(F11_R_2, mode=Mode.SUBTRACT)
        with BuildLine():
            Line((150.3400235176, -10.3994985104), (150.3400235176, -22.3994985104))
            ThreePointArc((150.3400235176, -22.3994985104), (149.75423708, -23.8137120727), (148.3400235176, -24.3994985104))
            Line((148.3400235176, -24.3994985104), (136.3400235176, -24.3994985104))
            ThreePointArc((136.3400235176, -24.3994985104), (134.9258099552, -23.8137120727), (134.3400235176, -22.3994985104))
            Line((134.3400235176, -22.3994985104), (134.3400235176, -10.3994985104))
            ThreePointArc((134.3400235176, -10.3994985104), (134.9258099552, -8.985284948), (136.3400235176, -8.3994985104))
            Line((136.3400235176, -8.3994985104), (148.3400235176, -8.3994985104))
            ThreePointArc((148.3400235176, -8.3994985104), (149.75423708, -8.985284948), (150.3400235176, -10.3994985104))
        make_face(mode=Mode.SUBTRACT)
        with Locations((149.3400235176, -37.0994985104)):
            Circle(F11_R, mode=Mode.SUBTRACT)
        with Locations((162.3400235176, -24.5994985104)):
            Circle(F11_R, mode=Mode.SUBTRACT)
        with Locations((169.3400235176, -24.5994985104)):
            Circle(F11_R_2, mode=Mode.SUBTRACT)
        with Locations((176.3400235176, -24.5994985104)):
            Circle(F11_R, mode=Mode.SUBTRACT)
        with BuildLine():
            ThreePointArc((163.3400235176, -11.8994985104), (161.9258099552, -11.3137120727), (161.3400235176, -9.8994985104))
            Line((161.3400235176, -9.8994985104), (161.3400235176, 2.1005014896))
            ThreePointArc((161.3400235176, 2.1005014896), (161.9258099552, 3.514715052), (163.3400235176, 4.1005014896))
            Line((163.3400235176, 4.1005014896), (175.3400235176, 4.1005014896))
            ThreePointArc((175.3400235176, 4.1005014896), (176.75423708, 3.514715052), (177.3400235176, 2.1005014896))
            Line((177.3400235176, 2.1005014896), (177.3400235176, -9.8994985104))
            ThreePointArc((177.3400235176, -9.8994985104), (176.75423708, -11.3137120727), (175.3400235176, -11.8994985104))
            Line((175.3400235176, -11.8994985104), (163.3400235176, -11.8994985104))
        make_face(mode=Mode.SUBTRACT)
        with Locations((108.3400235176, 9.1205014896)):
            Circle(F11_R, mode=Mode.SUBTRACT)
        with BuildLine():
            Line((116.8700235176, 10.1205014896), (116.8700235176, 8.1205014896))
            ThreePointArc((116.8700235176, 8.1205014896), (115.3400235176, 6.5905014896), (113.8100235176, 8.1205014896))
            Line((113.8100235176, 8.1205014896), (113.8100235176, 10.1205014896))
            ThreePointArc((113.8100235176, 10.1205014896), (115.3400235176, 11.6505014896), (116.8700235176, 10.1205014896))
        make_face(mode=Mode.SUBTRACT)
        with Locations((135.3400235176, 21.6205014896)):
            Circle(F11_R, mode=Mode.SUBTRACT)
        with BuildLine():
            Line((143.8700235176, 22.6205014896), (143.8700235176, 20.6205014896))
            ThreePointArc((143.8700235176, 20.6205014896), (142.3400235176, 19.0905014896), (140.8100235176, 20.6205014896))
            Line((140.8100235176, 20.6205014896), (140.8100235176, 22.6205014896))
            ThreePointArc((140.8100235176, 22.6205014896), (142.3400235176, 24.1505014896), (143.8700235176, 22.6205014896))
        make_face(mode=Mode.SUBTRACT)
        with Locations((162.3400235176, 34.1205014896)):
            Circle(F11_R, mode=Mode.SUBTRACT)
        with BuildLine():
            Line((170.8700235176, 35.1205014896), (170.8700235176, 33.1205014896))
            ThreePointArc((170.8700235176, 33.1205014896), (169.3400235176, 31.5905014896), (167.8100235176, 33.1205014896))
            Line((167.8100235176, 33.1205014896), (167.8100235176, 35.1205014896))
            ThreePointArc((167.8100235176, 35.1205014896), (169.3400235176, 36.6505014896), (170.8700235176, 35.1205014896))
        make_face(mode=Mode.SUBTRACT)
    extrude(amount=F12_DEPTH)


solid = Compound([f1.part, f12.part])
